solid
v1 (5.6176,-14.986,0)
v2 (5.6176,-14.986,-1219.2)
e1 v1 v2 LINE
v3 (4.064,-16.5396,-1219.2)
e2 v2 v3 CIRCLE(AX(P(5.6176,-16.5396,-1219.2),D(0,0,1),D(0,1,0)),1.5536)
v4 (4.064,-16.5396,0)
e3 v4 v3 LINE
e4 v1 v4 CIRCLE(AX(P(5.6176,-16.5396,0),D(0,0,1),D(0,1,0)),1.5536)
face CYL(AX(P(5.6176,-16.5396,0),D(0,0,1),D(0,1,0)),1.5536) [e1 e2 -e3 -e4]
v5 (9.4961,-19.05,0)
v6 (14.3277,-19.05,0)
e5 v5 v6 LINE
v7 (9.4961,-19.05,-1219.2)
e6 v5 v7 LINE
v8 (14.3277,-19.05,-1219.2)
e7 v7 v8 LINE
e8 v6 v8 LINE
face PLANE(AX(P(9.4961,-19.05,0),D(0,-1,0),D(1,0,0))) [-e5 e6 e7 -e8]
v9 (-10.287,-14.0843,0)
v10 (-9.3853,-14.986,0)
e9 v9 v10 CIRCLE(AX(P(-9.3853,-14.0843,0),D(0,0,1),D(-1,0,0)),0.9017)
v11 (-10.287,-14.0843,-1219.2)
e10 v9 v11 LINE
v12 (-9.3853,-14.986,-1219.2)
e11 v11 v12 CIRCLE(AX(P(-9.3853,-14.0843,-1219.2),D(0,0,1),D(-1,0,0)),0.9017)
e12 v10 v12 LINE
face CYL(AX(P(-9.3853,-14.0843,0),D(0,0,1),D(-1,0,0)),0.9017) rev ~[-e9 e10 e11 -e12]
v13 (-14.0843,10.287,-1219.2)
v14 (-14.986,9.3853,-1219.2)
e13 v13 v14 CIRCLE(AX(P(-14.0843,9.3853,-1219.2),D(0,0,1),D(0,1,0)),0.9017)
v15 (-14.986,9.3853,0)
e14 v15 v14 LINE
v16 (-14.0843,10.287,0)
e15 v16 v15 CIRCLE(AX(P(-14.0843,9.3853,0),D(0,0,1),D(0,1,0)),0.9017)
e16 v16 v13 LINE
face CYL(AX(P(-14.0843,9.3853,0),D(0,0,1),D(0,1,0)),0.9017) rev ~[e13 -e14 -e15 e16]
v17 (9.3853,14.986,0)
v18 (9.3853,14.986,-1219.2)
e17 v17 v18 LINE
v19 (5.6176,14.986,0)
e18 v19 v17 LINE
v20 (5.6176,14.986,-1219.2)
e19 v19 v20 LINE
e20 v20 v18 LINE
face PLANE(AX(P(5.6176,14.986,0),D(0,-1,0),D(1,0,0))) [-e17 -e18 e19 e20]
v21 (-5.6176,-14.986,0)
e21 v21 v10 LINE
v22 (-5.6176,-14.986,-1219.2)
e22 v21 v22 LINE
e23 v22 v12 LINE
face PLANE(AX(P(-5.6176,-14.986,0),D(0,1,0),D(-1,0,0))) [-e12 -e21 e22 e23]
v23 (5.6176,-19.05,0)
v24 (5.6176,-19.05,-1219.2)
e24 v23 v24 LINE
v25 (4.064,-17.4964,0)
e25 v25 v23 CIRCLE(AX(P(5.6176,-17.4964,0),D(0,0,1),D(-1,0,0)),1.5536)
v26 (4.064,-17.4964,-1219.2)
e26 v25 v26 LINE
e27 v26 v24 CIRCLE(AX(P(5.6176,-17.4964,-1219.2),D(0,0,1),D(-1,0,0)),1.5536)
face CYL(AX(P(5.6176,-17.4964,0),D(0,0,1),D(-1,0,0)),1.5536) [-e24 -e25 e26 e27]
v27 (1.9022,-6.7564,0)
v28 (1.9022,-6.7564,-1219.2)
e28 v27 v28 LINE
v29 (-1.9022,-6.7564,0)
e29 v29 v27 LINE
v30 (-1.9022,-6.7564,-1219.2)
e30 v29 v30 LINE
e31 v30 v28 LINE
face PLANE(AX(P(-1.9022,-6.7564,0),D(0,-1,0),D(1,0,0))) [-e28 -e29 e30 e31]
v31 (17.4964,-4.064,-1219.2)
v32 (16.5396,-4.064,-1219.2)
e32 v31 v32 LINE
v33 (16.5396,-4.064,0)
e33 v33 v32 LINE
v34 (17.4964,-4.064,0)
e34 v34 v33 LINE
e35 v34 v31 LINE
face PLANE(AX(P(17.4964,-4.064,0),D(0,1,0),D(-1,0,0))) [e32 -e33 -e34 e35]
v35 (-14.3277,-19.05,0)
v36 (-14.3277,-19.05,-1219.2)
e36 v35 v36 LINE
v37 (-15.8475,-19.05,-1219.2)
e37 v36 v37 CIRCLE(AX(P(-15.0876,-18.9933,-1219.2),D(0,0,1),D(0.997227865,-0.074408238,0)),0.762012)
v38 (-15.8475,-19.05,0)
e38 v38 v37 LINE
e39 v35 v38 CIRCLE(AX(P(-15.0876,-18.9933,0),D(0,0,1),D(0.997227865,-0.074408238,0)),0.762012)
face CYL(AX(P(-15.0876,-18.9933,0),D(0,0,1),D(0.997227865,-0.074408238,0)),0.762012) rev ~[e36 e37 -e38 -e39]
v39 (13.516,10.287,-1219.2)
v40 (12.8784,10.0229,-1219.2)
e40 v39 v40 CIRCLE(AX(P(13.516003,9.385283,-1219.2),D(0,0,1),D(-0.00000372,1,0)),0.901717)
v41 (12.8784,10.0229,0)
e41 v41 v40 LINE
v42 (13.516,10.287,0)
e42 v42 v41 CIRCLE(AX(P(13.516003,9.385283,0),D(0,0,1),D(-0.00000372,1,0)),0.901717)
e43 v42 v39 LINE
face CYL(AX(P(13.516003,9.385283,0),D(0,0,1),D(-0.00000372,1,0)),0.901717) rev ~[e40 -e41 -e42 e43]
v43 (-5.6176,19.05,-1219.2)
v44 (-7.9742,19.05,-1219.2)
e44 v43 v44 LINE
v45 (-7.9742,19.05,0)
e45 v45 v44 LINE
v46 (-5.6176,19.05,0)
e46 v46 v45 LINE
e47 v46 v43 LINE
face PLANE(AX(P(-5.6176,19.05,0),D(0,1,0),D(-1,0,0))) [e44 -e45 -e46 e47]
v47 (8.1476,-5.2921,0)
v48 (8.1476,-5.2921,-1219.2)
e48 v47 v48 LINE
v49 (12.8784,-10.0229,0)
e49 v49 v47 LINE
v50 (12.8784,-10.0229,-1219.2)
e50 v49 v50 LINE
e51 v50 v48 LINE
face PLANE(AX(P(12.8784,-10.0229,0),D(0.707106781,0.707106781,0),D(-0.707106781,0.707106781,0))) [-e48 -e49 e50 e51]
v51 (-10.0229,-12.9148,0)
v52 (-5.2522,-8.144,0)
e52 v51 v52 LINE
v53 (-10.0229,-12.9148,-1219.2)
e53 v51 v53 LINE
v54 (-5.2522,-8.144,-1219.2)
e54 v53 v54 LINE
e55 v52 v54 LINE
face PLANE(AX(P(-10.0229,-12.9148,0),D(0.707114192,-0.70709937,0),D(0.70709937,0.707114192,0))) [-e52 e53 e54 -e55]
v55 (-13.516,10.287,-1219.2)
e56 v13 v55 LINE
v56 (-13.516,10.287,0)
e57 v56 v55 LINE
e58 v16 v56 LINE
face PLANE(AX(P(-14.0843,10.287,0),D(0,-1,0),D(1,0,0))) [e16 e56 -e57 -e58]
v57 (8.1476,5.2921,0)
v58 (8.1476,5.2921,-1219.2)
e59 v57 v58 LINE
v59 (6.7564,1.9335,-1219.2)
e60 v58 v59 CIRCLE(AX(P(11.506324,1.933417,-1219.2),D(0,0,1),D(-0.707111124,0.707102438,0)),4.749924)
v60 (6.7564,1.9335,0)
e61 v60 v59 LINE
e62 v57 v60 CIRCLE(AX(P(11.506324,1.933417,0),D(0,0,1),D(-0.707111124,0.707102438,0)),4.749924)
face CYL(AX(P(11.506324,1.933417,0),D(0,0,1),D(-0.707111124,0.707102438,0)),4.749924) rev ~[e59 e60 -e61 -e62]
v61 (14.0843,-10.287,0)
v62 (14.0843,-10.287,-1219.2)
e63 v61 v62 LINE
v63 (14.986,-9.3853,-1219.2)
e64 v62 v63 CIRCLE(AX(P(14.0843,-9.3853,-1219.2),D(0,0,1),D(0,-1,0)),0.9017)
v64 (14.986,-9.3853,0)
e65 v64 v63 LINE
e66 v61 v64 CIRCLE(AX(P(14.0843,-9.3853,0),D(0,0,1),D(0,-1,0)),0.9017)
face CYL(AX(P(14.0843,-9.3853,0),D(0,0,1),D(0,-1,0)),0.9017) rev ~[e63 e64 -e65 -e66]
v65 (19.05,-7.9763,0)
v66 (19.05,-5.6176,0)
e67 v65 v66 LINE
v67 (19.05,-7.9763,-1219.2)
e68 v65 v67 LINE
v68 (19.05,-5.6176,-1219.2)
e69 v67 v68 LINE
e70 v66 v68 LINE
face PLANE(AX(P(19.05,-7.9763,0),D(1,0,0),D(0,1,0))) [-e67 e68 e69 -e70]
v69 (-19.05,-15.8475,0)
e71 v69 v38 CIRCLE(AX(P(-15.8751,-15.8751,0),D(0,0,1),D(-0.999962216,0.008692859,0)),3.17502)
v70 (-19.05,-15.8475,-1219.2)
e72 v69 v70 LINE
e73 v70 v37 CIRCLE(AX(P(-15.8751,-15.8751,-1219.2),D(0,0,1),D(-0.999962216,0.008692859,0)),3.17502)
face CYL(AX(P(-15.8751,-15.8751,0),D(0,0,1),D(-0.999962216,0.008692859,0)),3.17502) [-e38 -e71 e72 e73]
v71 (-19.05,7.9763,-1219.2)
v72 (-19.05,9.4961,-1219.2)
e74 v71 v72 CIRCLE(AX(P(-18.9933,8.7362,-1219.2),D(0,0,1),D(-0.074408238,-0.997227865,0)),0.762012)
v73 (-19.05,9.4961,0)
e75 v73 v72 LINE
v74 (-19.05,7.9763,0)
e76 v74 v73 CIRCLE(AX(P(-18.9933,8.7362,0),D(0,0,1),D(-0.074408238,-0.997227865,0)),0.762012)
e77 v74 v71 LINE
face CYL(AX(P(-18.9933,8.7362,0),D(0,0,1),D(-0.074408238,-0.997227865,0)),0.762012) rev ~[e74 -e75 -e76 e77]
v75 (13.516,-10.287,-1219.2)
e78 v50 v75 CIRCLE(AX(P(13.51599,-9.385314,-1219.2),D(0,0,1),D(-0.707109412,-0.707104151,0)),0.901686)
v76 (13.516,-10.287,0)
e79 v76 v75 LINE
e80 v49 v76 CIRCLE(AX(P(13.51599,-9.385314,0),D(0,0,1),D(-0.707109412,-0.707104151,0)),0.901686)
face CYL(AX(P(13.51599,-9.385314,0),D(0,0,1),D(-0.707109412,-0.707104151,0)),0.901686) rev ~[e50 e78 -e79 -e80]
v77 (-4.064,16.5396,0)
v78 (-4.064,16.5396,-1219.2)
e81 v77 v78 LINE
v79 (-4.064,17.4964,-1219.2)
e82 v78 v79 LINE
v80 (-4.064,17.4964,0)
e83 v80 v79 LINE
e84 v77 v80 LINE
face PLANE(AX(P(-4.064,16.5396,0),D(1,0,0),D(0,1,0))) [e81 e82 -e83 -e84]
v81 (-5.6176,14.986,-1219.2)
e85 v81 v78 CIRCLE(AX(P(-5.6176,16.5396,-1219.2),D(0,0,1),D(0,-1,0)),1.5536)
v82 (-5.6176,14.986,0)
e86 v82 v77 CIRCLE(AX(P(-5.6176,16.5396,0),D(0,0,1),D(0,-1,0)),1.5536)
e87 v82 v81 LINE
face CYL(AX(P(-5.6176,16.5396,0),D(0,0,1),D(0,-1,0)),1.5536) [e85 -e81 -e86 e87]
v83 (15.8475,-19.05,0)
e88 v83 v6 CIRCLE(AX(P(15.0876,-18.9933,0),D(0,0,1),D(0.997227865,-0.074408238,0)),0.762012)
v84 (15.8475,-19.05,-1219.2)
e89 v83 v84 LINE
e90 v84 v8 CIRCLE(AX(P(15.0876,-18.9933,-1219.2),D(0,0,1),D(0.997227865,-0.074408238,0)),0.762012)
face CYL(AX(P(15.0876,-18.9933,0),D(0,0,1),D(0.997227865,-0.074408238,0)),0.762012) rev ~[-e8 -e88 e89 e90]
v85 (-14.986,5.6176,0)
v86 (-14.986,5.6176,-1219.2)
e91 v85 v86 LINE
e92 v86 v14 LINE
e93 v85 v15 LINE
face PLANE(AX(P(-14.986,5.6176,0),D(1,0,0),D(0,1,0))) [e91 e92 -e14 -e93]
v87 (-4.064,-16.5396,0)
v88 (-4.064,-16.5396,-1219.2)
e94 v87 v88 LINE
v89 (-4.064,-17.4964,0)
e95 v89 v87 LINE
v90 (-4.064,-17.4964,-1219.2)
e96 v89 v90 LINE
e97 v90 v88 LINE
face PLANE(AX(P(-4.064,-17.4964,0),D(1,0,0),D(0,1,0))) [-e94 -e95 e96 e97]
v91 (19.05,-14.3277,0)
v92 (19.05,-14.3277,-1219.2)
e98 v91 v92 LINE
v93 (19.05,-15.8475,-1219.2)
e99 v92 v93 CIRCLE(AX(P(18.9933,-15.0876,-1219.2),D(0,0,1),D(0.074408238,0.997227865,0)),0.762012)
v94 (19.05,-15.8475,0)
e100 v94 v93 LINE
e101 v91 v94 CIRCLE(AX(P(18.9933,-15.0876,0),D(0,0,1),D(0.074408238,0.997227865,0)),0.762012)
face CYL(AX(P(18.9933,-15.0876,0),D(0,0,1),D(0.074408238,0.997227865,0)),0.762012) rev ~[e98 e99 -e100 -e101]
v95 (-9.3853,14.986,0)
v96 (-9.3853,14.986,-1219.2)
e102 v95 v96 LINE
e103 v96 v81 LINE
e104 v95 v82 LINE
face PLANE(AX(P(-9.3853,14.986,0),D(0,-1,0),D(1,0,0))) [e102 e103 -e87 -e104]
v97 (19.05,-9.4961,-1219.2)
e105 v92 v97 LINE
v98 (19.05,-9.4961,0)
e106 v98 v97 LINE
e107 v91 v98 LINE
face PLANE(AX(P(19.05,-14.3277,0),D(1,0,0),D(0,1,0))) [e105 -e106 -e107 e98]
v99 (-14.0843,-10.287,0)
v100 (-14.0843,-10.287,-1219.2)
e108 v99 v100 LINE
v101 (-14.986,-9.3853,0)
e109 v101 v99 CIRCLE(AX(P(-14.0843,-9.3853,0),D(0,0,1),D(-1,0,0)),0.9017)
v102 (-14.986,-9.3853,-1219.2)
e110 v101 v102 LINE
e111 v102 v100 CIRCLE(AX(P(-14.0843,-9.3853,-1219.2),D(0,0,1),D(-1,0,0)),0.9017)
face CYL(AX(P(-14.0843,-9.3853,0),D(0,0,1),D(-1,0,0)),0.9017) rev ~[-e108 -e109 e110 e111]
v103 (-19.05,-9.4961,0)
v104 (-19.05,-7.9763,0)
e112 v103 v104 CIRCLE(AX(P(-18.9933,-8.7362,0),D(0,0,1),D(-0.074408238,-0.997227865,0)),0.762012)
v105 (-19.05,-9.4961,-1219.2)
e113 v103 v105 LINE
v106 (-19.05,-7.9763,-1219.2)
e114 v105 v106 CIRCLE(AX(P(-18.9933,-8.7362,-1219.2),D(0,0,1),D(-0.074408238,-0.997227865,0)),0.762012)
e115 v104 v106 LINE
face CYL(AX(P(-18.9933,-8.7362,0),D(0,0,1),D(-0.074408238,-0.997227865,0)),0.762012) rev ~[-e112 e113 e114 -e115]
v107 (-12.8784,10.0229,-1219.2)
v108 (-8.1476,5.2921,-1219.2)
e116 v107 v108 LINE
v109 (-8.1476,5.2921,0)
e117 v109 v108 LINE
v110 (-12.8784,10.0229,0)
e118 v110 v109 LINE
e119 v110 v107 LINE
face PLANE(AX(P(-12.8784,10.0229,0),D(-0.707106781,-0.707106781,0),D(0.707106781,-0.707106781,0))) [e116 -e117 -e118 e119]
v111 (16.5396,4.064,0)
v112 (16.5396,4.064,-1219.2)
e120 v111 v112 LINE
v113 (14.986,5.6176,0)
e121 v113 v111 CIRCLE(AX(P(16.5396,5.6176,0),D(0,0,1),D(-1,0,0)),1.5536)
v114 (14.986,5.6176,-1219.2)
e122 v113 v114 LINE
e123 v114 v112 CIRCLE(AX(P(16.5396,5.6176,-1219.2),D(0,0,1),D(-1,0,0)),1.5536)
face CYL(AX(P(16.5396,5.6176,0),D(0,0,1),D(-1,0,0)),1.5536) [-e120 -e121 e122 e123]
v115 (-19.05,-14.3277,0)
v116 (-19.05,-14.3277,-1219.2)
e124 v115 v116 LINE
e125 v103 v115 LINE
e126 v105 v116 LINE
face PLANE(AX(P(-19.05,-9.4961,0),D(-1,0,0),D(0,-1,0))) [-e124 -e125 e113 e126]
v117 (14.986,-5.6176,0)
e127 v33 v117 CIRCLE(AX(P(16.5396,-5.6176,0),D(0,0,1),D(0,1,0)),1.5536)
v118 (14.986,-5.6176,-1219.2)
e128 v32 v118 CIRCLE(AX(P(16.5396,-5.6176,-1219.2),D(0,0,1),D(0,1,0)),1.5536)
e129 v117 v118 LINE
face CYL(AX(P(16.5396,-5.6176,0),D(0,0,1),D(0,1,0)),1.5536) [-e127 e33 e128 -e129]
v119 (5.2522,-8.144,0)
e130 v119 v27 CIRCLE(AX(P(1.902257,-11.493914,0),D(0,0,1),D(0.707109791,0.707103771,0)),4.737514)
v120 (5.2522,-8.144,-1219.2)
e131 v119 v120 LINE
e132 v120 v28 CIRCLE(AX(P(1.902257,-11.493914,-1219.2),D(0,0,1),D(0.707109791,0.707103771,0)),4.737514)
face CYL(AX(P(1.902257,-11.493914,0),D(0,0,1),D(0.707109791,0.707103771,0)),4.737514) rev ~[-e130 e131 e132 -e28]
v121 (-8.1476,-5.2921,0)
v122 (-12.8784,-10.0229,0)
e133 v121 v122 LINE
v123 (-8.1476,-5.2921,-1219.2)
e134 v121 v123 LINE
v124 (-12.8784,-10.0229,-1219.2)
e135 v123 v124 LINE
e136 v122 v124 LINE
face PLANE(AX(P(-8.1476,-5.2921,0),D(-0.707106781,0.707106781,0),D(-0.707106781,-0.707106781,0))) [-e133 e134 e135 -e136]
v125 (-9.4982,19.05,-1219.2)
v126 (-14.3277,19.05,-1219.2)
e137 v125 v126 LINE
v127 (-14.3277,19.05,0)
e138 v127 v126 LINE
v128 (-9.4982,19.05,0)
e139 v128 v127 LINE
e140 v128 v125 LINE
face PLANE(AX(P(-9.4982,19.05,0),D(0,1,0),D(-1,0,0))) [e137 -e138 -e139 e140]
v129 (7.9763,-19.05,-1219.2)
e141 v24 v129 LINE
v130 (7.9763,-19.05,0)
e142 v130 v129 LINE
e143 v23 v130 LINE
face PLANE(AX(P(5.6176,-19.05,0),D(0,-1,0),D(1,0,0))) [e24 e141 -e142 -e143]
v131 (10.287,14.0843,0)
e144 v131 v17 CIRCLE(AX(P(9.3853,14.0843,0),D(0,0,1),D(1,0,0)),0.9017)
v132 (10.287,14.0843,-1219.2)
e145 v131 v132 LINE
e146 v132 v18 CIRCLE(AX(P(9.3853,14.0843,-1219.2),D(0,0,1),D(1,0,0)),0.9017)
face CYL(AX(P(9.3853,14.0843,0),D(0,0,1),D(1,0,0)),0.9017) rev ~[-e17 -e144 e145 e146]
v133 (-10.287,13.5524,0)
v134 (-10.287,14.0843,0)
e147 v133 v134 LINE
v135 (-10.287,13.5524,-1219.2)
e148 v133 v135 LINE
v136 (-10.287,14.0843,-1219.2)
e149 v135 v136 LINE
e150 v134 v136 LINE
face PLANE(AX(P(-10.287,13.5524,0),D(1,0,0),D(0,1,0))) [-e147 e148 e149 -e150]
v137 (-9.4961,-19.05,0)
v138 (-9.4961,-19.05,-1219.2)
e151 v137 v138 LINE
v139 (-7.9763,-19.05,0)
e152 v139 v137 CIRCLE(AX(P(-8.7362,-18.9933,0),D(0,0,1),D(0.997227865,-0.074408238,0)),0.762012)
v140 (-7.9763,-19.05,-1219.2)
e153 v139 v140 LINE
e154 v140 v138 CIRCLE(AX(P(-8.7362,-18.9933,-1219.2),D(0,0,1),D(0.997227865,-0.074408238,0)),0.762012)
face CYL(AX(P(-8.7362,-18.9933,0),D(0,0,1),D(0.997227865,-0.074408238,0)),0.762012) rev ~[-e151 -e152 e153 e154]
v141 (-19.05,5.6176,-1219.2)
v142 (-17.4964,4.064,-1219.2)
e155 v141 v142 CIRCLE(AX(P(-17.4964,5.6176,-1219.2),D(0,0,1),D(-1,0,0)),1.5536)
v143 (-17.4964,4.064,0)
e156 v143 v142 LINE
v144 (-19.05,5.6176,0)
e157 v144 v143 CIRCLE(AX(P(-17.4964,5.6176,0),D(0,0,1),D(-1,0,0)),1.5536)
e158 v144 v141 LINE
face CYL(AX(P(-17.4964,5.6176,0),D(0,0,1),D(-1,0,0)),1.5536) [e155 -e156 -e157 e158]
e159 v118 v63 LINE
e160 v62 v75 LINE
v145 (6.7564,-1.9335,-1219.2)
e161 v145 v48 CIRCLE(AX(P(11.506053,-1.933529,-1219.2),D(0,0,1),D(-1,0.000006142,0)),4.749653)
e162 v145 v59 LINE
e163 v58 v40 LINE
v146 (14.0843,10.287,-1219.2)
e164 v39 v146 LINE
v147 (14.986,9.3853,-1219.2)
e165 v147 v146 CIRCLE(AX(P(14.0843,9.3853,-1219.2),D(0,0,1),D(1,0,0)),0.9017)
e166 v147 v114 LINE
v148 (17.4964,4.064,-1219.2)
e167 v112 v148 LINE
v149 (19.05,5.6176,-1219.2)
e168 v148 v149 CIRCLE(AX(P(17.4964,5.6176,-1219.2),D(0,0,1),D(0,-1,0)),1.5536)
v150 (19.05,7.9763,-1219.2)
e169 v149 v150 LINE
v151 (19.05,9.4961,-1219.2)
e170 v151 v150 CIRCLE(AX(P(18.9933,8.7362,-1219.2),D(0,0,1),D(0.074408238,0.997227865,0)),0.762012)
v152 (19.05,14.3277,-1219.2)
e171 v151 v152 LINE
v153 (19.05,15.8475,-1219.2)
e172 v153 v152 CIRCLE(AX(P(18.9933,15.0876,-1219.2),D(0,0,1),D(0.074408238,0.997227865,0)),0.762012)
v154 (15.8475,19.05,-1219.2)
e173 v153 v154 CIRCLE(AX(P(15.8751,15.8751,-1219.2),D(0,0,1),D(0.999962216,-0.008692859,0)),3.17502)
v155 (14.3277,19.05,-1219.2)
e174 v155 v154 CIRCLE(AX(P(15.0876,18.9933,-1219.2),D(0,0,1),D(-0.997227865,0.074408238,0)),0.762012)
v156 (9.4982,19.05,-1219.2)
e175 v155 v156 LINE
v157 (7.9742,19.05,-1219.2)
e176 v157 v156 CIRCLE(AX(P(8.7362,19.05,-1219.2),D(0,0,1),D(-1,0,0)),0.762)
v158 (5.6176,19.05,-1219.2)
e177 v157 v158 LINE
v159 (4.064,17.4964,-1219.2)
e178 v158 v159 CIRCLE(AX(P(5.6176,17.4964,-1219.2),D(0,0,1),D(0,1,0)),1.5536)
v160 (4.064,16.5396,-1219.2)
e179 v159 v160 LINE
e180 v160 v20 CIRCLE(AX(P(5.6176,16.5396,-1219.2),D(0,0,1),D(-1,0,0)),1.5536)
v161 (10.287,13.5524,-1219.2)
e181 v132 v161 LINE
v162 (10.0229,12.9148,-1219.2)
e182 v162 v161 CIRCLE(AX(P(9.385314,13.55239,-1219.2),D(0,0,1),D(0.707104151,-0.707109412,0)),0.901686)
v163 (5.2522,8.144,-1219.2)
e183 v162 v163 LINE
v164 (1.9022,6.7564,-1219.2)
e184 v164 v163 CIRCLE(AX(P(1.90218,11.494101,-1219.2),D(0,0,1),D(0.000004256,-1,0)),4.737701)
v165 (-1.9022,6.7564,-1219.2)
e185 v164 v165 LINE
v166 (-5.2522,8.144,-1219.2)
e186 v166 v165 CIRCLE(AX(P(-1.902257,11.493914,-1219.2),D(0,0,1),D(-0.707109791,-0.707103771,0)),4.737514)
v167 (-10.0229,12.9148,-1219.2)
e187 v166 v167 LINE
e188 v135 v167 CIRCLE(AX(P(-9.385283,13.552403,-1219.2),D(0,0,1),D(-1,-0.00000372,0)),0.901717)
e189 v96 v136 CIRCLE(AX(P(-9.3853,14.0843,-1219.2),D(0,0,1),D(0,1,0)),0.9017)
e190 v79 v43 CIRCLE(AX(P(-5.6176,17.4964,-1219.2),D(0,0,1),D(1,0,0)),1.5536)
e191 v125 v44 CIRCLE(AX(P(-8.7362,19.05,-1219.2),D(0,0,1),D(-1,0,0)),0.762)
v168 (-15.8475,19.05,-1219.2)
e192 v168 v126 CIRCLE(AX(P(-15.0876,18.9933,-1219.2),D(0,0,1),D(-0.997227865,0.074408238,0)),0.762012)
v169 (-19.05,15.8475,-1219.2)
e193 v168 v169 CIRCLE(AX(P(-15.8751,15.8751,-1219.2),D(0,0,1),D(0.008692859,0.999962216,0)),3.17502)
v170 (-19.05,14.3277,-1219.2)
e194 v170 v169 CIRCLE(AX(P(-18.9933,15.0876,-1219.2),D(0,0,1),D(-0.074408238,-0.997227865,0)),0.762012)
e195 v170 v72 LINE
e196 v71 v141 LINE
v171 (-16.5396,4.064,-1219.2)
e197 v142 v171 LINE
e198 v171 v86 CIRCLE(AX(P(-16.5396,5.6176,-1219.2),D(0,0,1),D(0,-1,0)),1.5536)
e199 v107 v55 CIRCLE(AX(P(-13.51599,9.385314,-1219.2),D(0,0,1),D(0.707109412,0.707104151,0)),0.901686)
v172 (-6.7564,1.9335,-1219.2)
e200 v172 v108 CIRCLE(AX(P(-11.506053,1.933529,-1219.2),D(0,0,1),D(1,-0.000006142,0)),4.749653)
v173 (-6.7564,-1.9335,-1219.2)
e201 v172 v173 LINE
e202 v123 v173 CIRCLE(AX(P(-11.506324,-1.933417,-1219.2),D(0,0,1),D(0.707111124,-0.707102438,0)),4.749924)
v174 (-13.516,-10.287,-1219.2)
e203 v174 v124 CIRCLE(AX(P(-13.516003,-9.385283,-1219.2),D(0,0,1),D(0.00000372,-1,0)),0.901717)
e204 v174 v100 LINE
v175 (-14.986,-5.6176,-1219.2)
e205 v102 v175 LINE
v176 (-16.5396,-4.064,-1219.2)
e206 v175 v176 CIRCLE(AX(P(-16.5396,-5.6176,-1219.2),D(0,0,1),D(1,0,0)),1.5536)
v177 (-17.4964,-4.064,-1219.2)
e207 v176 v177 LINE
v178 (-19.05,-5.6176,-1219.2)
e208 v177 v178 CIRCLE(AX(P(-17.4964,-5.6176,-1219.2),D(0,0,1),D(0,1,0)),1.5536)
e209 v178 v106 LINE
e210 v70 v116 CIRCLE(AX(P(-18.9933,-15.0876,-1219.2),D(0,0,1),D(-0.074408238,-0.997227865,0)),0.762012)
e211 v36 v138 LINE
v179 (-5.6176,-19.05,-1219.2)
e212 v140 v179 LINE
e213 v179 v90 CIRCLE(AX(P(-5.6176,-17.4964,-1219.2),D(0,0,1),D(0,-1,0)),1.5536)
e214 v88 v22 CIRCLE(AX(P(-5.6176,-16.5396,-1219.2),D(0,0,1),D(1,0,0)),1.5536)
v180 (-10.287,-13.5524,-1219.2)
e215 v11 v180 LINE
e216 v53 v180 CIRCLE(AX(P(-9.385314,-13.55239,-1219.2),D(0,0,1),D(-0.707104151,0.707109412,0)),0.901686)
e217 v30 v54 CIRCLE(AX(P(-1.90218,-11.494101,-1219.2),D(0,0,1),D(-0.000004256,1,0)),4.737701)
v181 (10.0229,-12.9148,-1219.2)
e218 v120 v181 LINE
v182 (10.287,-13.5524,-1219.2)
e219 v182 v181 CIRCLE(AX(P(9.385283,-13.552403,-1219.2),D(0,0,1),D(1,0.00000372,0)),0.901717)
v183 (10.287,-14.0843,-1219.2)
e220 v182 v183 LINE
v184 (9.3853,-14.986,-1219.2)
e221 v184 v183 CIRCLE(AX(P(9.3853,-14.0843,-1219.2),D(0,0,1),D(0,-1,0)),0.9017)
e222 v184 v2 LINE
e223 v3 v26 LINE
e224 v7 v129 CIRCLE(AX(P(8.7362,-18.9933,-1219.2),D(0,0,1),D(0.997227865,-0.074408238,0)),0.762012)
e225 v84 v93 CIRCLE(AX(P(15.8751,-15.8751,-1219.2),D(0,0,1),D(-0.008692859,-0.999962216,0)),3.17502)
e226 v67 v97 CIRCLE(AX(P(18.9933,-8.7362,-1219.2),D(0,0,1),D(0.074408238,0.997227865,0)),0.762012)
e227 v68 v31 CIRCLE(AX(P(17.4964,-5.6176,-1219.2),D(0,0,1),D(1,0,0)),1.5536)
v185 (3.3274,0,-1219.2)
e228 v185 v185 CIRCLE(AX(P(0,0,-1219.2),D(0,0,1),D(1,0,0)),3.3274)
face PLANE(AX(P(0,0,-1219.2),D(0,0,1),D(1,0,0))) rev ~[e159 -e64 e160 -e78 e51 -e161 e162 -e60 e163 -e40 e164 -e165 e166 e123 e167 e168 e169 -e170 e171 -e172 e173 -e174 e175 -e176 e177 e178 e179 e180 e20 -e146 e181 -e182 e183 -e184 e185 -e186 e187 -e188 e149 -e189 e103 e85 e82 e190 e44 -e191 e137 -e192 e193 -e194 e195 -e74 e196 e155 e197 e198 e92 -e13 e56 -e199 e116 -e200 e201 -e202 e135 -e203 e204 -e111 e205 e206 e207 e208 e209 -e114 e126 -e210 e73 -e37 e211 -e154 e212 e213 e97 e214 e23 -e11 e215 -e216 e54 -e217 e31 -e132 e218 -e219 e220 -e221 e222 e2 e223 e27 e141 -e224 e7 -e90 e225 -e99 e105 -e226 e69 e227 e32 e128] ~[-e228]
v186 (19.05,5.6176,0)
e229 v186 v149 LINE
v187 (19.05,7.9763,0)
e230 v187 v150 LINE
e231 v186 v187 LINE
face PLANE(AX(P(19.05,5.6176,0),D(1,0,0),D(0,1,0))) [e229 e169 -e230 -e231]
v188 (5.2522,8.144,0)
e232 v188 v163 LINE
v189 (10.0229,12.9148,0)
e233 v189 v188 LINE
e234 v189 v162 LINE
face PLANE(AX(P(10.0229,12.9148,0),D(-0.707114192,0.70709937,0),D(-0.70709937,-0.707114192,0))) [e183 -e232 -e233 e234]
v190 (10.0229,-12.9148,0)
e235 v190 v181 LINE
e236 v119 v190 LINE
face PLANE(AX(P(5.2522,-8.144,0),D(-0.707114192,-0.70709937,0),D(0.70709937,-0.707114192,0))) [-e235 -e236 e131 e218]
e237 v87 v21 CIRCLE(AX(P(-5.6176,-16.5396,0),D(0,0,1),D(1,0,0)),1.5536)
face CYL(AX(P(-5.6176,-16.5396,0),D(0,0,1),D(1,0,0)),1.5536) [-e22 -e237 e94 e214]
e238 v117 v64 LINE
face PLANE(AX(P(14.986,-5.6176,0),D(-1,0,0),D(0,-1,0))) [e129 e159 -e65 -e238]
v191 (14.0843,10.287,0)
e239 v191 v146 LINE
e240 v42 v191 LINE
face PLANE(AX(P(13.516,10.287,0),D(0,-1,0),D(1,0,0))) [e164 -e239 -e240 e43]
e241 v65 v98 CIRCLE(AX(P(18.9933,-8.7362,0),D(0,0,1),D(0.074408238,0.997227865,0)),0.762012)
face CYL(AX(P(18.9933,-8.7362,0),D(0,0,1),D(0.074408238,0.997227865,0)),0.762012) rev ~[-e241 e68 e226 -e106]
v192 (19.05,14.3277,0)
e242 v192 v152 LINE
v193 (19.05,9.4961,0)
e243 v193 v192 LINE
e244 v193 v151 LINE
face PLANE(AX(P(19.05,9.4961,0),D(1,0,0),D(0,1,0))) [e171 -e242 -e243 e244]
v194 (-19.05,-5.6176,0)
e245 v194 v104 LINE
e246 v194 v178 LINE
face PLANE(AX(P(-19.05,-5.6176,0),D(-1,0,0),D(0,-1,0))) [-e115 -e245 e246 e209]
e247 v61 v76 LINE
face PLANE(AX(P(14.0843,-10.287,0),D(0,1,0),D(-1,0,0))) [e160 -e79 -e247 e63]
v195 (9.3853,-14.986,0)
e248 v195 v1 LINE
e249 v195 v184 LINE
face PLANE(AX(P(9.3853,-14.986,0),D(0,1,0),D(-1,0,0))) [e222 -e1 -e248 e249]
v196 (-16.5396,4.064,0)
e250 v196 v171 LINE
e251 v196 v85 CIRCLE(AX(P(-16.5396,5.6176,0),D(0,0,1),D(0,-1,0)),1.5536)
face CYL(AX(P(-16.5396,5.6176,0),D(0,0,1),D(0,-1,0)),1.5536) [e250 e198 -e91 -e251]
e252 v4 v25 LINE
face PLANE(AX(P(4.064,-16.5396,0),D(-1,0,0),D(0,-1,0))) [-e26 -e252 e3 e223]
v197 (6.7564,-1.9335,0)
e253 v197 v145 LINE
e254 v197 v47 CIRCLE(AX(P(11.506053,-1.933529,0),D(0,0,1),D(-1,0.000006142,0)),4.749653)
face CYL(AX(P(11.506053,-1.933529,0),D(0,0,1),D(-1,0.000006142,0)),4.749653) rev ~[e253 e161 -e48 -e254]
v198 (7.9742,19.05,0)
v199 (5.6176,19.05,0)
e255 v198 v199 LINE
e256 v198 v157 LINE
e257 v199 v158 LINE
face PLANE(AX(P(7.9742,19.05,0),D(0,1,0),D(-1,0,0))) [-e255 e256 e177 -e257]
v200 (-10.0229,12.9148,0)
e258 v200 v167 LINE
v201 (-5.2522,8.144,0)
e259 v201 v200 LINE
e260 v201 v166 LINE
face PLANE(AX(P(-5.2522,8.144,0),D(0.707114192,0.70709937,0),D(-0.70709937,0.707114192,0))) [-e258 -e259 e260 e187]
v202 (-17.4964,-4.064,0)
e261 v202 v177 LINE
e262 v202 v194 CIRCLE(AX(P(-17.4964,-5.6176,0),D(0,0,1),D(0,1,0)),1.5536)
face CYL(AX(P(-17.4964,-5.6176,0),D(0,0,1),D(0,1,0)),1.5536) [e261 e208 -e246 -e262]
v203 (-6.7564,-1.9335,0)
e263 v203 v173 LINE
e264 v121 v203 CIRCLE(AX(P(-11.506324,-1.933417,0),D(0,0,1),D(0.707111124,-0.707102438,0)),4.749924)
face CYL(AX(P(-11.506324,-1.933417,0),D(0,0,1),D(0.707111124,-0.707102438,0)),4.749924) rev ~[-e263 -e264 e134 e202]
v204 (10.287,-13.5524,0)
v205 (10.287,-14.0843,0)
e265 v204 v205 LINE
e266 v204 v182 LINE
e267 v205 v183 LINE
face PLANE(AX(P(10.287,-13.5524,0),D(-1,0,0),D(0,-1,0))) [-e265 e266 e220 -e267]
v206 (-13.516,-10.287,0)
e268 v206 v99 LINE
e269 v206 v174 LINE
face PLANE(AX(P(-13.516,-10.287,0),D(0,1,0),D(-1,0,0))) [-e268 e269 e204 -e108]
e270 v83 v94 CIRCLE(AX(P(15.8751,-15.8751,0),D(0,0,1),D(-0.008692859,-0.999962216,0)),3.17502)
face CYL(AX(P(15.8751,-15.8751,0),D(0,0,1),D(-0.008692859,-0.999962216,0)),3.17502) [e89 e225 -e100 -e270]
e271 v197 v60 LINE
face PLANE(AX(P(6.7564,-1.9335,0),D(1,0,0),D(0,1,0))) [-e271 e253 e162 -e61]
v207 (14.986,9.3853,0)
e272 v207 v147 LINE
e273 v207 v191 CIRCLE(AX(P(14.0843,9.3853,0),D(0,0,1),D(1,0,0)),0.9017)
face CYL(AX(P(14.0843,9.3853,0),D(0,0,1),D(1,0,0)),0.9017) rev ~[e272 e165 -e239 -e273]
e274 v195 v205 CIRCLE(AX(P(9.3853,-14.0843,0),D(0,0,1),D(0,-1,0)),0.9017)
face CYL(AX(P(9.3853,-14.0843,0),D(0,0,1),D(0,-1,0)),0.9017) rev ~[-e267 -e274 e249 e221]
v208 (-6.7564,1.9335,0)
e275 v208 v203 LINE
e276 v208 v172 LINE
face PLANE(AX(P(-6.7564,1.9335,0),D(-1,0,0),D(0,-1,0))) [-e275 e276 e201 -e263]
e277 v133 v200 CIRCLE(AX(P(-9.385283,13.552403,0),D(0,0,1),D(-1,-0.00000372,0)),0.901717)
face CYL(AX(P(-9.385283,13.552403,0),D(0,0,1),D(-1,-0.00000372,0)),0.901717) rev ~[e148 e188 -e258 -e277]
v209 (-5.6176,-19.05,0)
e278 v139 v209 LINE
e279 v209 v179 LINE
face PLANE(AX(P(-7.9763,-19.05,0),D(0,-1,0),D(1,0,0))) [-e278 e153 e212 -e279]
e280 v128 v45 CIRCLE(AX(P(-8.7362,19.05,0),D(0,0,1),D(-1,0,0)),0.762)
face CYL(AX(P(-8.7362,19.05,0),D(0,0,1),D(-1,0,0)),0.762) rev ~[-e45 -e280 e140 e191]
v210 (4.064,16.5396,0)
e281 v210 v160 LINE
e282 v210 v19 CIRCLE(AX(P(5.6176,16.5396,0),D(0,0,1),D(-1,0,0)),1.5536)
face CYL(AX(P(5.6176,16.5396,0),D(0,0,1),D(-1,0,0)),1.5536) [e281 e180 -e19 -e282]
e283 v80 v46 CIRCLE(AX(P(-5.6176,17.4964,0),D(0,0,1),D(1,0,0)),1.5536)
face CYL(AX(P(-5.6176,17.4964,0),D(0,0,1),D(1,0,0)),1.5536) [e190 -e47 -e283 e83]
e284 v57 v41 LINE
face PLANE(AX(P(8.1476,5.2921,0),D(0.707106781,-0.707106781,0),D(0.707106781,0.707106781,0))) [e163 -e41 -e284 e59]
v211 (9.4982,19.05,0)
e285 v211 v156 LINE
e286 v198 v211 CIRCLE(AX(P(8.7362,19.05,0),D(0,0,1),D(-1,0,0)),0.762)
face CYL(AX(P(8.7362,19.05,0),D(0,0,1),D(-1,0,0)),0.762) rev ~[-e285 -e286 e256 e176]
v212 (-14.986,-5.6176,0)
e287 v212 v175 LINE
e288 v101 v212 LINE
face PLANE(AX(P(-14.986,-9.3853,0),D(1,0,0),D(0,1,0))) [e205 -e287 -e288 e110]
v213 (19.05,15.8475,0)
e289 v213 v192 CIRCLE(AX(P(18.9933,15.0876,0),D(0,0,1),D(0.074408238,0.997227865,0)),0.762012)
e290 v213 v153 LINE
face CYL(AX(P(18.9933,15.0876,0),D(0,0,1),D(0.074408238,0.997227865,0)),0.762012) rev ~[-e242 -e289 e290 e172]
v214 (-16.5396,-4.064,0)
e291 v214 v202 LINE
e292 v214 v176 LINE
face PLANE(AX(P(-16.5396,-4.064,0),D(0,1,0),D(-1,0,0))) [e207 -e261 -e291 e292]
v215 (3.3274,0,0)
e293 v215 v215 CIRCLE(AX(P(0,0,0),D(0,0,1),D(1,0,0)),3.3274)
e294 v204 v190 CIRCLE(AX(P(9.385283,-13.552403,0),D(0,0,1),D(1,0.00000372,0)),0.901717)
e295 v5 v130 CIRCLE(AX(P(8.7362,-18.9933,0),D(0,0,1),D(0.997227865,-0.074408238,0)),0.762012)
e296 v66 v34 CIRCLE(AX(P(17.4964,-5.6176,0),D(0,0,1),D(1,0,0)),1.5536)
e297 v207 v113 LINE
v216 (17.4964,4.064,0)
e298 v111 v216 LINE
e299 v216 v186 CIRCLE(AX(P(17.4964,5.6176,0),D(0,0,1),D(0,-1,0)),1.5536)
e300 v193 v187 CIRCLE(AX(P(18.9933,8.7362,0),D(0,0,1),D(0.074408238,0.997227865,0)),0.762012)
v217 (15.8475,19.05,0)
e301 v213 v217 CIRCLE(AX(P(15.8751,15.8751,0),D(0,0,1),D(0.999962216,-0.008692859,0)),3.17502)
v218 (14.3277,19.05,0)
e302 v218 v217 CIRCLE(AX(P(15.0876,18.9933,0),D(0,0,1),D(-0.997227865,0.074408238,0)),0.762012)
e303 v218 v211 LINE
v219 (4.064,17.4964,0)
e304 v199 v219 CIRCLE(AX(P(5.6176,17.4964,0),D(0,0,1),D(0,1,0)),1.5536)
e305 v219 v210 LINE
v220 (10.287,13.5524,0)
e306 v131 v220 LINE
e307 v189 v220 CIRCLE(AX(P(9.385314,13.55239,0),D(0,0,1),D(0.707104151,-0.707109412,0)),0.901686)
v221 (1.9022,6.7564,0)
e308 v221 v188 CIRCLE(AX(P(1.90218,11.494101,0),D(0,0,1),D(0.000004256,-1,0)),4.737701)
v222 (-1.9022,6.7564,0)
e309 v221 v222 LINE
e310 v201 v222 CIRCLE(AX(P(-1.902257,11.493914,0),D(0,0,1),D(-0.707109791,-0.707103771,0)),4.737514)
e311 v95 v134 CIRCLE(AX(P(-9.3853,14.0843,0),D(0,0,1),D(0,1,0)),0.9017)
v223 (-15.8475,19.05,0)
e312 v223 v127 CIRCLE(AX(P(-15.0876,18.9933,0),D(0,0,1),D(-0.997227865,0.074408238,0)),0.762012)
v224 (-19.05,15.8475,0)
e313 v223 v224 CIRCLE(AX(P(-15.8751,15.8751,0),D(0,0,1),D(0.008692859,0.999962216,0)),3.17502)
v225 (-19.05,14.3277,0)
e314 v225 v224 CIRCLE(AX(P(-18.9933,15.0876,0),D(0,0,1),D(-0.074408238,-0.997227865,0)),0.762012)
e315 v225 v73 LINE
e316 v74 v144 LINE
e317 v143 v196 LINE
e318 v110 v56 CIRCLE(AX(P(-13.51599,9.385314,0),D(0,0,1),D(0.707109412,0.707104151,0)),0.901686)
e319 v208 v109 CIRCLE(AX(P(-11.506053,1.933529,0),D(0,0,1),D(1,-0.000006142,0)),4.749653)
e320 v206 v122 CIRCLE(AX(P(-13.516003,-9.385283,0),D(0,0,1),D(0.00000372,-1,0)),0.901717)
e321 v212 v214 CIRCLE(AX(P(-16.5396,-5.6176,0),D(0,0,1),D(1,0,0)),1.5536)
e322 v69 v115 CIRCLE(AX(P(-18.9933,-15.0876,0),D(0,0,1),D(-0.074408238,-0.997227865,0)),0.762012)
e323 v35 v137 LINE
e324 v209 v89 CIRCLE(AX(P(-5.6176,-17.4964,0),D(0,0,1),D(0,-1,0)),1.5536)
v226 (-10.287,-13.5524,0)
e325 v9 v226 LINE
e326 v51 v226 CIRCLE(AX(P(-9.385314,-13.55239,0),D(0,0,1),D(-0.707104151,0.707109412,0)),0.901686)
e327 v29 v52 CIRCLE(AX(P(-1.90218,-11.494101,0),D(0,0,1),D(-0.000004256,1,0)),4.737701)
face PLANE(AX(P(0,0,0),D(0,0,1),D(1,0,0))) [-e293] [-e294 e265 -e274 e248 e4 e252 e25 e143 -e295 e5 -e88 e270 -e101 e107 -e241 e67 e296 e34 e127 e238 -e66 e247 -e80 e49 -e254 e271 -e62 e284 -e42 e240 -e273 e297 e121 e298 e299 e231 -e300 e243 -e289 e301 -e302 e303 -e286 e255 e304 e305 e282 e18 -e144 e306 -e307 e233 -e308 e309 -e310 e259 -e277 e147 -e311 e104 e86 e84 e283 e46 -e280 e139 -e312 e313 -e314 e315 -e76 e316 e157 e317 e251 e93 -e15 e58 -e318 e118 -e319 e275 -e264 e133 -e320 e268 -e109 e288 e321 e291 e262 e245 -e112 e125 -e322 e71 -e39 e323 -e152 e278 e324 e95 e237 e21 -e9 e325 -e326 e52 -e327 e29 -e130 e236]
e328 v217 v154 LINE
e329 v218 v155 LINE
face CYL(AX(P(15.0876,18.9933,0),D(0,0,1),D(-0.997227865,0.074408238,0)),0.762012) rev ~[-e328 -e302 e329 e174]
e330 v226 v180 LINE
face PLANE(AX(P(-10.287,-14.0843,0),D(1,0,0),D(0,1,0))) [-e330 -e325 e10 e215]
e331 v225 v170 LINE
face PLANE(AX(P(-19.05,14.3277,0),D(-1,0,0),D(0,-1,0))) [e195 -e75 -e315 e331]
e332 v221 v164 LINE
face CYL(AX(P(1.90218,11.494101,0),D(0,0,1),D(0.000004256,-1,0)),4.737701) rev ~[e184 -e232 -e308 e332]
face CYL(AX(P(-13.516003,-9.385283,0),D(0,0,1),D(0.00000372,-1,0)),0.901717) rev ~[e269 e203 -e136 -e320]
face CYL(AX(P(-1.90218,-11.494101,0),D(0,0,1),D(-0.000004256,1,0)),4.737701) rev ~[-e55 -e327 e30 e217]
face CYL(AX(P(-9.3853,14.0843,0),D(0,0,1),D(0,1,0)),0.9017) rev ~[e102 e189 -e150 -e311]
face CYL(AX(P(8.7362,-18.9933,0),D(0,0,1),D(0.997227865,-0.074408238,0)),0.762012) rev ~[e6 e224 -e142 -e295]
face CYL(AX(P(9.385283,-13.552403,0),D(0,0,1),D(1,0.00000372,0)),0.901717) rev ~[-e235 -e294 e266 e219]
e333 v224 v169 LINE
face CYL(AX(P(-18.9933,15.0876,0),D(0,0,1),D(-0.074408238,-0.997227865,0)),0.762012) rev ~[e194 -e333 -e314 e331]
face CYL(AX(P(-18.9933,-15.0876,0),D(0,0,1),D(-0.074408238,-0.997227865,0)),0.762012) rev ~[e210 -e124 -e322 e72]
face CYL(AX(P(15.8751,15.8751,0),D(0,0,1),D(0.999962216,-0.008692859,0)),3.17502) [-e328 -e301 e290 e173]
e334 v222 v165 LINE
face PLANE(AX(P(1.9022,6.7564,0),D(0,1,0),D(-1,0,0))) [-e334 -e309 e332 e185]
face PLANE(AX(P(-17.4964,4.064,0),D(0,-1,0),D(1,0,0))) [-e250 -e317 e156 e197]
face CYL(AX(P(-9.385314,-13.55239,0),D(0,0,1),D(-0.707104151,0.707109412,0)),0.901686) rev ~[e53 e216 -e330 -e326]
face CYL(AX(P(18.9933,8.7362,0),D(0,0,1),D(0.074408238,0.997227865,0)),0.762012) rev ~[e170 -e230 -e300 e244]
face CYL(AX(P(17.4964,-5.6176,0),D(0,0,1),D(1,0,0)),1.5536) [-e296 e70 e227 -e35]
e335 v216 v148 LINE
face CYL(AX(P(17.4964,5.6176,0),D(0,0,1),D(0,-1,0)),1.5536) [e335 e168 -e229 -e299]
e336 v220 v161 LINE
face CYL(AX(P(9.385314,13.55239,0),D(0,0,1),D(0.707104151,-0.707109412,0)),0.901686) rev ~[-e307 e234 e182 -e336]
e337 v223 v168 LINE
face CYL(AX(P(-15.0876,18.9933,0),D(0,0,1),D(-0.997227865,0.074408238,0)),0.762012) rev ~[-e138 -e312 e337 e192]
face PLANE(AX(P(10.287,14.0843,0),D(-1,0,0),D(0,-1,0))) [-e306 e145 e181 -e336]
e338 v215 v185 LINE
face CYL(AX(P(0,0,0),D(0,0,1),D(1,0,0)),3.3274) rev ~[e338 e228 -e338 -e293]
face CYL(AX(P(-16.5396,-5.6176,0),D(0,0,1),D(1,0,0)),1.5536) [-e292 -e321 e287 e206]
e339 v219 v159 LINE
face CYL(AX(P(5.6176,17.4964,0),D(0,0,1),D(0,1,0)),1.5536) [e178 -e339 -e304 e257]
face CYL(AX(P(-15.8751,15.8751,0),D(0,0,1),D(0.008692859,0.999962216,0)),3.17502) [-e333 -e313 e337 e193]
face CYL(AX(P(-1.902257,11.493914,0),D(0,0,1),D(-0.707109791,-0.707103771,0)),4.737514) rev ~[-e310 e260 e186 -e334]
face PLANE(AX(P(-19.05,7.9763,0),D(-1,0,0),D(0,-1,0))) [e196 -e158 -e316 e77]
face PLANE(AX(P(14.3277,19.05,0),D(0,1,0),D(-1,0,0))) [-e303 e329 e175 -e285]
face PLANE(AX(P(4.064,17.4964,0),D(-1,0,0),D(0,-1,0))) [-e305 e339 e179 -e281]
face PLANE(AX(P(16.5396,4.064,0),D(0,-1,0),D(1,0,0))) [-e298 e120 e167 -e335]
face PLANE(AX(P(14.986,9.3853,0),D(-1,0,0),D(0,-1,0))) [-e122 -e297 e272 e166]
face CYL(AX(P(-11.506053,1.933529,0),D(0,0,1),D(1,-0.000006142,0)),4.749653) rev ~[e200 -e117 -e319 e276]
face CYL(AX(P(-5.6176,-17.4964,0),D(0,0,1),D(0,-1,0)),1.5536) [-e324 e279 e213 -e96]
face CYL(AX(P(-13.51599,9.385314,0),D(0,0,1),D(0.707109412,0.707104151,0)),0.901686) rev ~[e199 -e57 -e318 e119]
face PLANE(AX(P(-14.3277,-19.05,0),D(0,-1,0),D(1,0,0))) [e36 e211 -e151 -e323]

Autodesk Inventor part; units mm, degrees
sketch "Sketch_1" plane through (0, 0, 0) normal (0, 0, 1) x (1, 0, 0)
  arc A0 (-15.8475, 19.05) -> (-19.05, 15.8475) centre (-15.8751, 15.8751) ccw
  arc A1 (-19.05, 14.3277) -> (-19.05, 15.8475) centre (-18.9933, 15.0876) ccw
  line L0 (-19.05, 14.3277) -> (-19.05, 9.4961)
  arc A2 (-19.05, 7.9763) -> (-19.05, 9.4961) centre (-18.9933, 8.7362) ccw
  line L1 (-19.05, 7.9763) -> (-19.05, 5.6176)
  arc A3 (-19.05, 5.6176) -> (-17.4964, 4.064) centre (-17.4964, 5.6176) ccw
  line L2 (-17.4964, 4.064) -> (-16.5396, 4.064)
  arc A4 (-16.5396, 4.064) -> (-14.986, 5.6176) centre (-16.5396, 5.6176) ccw
  line L3 (-14.986, 5.6176) -> (-14.986, 9.3853)
  arc A5 (-14.0843, 10.287) -> (-14.986, 9.3853) centre (-14.0843, 9.3853) ccw
  line L4 (-14.0843, 10.287) -> (-13.516, 10.287)
  arc A6 (-12.8784, 10.0229) -> (-13.516, 10.287) centre (-13.516, 9.3853) ccw
  line L5 (-12.8784, 10.0229) -> (-8.1476, 5.2921)
  arc A7 (-6.7564, 1.9335) -> (-8.1476, 5.2921) centre (-11.5062, 1.9335) ccw
  line L6 (-6.7564, 1.9335) -> (-6.7564, -1.9335)
  arc A8 (-8.1476, -5.2921) -> (-6.7564, -1.9335) centre (-11.5062, -1.9335) ccw
  line L7 (-8.1476, -5.2921) -> (-12.8784, -10.0229)
  arc A9 (-13.516, -10.287) -> (-12.8784, -10.0229) centre (-13.516, -9.3853) ccw
  line L8 (-13.516, -10.287) -> (-14.0843, -10.287)
  arc A10 (-14.986, -9.3853) -> (-14.0843, -10.287) centre (-14.0843, -9.3853) ccw
  line L9 (-14.986, -9.3853) -> (-14.986, -5.6176)
  arc A11 (-14.986, -5.6176) -> (-16.5396, -4.064) centre (-16.5396, -5.6176) ccw
  line L10 (-16.5396, -4.064) -> (-17.4964, -4.064)
  arc A12 (-17.4964, -4.064) -> (-19.05, -5.6176) centre (-17.4964, -5.6176) ccw
  line L11 (-19.05, -5.6176) -> (-19.05, -7.9763)
  arc A13 (-19.05, -9.4961) -> (-19.05, -7.9763) centre (-18.9933, -8.7362) ccw
  line L12 (-19.05, -9.4961) -> (-19.05, -14.3277)
  arc A14 (-19.05, -15.8475) -> (-19.05, -14.3277) centre (-18.9933, -15.0876) ccw
  arc A15 (-19.05, -15.8475) -> (-15.8475, -19.05) centre (-15.8751, -15.8751) ccw
  arc A16 (-14.3277, -19.05) -> (-15.8475, -19.05) centre (-15.0876, -18.9933) ccw
  line L13 (-14.3277, -19.05) -> (-9.4961, -19.05)
  arc A17 (-7.9763, -19.05) -> (-9.4961, -19.05) centre (-8.7362, -18.9933) ccw
  line L14 (-7.9763, -19.05) -> (-5.6176, -19.05)
  arc A18 (-5.6176, -19.05) -> (-4.064, -17.4964) centre (-5.6176, -17.4964) ccw
  line L15 (-4.064, -17.4964) -> (-4.064, -16.5396)
  arc A19 (-4.064, -16.5396) -> (-5.6176, -14.986) centre (-5.6176, -16.5396) ccw
  line L16 (-5.6176, -14.986) -> (-9.3853, -14.986)
  arc A20 (-10.287, -14.0843) -> (-9.3853, -14.986) centre (-9.3853, -14.0843) ccw
  line L17 (-10.287, -14.0843) -> (-10.287, -13.5524)
  arc A21 (-10.0229, -12.9148) -> (-10.287, -13.5524) centre (-9.3853, -13.5524) ccw
  line L18 (-10.0229, -12.9148) -> (-5.2522, -8.144)
  arc A22 (-1.9022, -6.7564) -> (-5.2522, -8.144) centre (-1.9022, -11.494) ccw
  line L19 (-1.9022, -6.7564) -> (1.9022, -6.7564)
  arc A23 (5.2522, -8.144) -> (1.9022, -6.7564) centre (1.9022, -11.494) ccw
  line L20 (5.2522, -8.144) -> (10.0229, -12.9148)
  arc A24 (10.287, -13.5524) -> (10.0229, -12.9148) centre (9.3853, -13.5524) ccw
  line L21 (10.287, -13.5524) -> (10.287, -14.0843)
  arc A25 (9.3853, -14.986) -> (10.287, -14.0843) centre (9.3853, -14.0843) ccw
  line L22 (9.3853, -14.986) -> (5.6176, -14.986)
  arc A26 (5.6176, -14.986) -> (4.064, -16.5396) centre (5.6176, -16.5396) ccw
  line L23 (4.064, -16.5396) -> (4.064, -17.4964)
  arc A27 (4.064, -17.4964) -> (5.6176, -19.05) centre (5.6176, -17.4964) ccw
  line L24 (5.6176, -19.05) -> (7.9763, -19.05)
  arc A28 (9.4961, -19.05) -> (7.9763, -19.05) centre (8.7362, -18.9933) ccw
  line L25 (9.4961, -19.05) -> (14.3277, -19.05)
  arc A29 (15.8475, -19.05) -> (14.3277, -19.05) centre (15.0876, -18.9933) ccw
  arc A30 (15.8475, -19.05) -> (19.05, -15.8475) centre (15.8751, -15.8751) ccw
  arc A31 (19.05, -14.3277) -> (19.05, -15.8475) centre (18.9933, -15.0876) ccw
  line L26 (19.05, -14.3277) -> (19.05, -9.4961)
  arc A32 (19.05, -7.9763) -> (19.05, -9.4961) centre (18.9933, -8.7362) ccw
  line L27 (19.05, -7.9763) -> (19.05, -5.6176)
  arc A33 (19.05, -5.6176) -> (17.4964, -4.064) centre (17.4964, -5.6176) ccw
  line L28 (17.4964, -4.064) -> (16.5396, -4.064)
  arc A34 (16.5396, -4.064) -> (14.986, -5.6176) centre (16.5396, -5.6176) ccw
  line L29 (14.986, -5.6176) -> (14.986, -9.3853)
  arc A35 (14.0843, -10.287) -> (14.986, -9.3853) centre (14.0843, -9.3853) ccw
  line L30 (14.0843, -10.287) -> (13.516, -10.287)
  arc A36 (12.8784, -10.0229) -> (13.516, -10.287) centre (13.516, -9.3853) ccw
  line L31 (12.8784, -10.0229) -> (8.1476, -5.2921)
  arc A37 (6.7564, -1.9335) -> (8.1476, -5.2921) centre (11.5062, -1.9335) ccw
  line L32 (6.7564, -1.9335) -> (6.7564, 1.9335)
  arc A38 (8.1476, 5.2921) -> (6.7564, 1.9335) centre (11.5062, 1.9335) ccw
  line L33 (8.1476, 5.2921) -> (12.8784, 10.0229)
  arc A39 (13.516, 10.287) -> (12.8784, 10.0229) centre (13.516, 9.3853) ccw
  line L34 (13.516, 10.287) -> (14.0843, 10.287)
  arc A40 (14.986, 9.3853) -> (14.0843, 10.287) centre (14.0843, 9.3853) ccw
  line L35 (14.986, 9.3853) -> (14.986, 5.6176)
  arc A41 (14.986, 5.6176) -> (16.5396, 4.064) centre (16.5396, 5.6176) ccw
  line L36 (16.5396, 4.064) -> (17.4964, 4.064)
  arc A42 (17.4964, 4.064) -> (19.05, 5.6176) centre (17.4964, 5.6176) ccw
  line L37 (19.05, 5.6176) -> (19.05, 7.9763)
  arc A43 (19.05, 9.4961) -> (19.05, 7.9763) centre (18.9933, 8.7362) ccw
  line L38 (19.05, 9.4961) -> (19.05, 14.3277)
  arc A44 (19.05, 15.8475) -> (19.05, 14.3277) centre (18.9933, 15.0876) ccw
  arc A45 (19.05, 15.8475) -> (15.8475, 19.05) centre (15.8751, 15.8751) ccw
  arc A46 (14.3277, 19.05) -> (15.8475, 19.05) centre (15.0876, 18.9933) ccw
  line L39 (14.3277, 19.05) -> (9.4982, 19.05)
  arc A47 (7.9742, 19.05) -> (9.4982, 19.05) centre (8.7362, 19.05) ccw
  line L40 (7.9742, 19.05) -> (5.6176, 19.05)
  arc A48 (5.6176, 19.05) -> (4.064, 17.4964) centre (5.6176, 17.4964) ccw
  line L41 (4.064, 17.4964) -> (4.064, 16.5396)
  arc A49 (4.064, 16.5396) -> (5.6176, 14.986) centre (5.6176, 16.5396) ccw
  line L42 (5.6176, 14.986) -> (9.3853, 14.986)
  arc A50 (10.287, 14.0843) -> (9.3853, 14.986) centre (9.3853, 14.0843) ccw
  line L43 (10.287, 14.0843) -> (10.287, 13.5524)
  arc A51 (10.0229, 12.9148) -> (10.287, 13.5524) centre (9.3853, 13.5524) ccw
  line L44 (10.0229, 12.9148) -> (5.2522, 8.144)
  arc A52 (1.9022, 6.7564) -> (5.2522, 8.144) centre (1.9022, 11.494) ccw
  line L45 (1.9022, 6.7564) -> (-1.9022, 6.7564)
  arc A53 (-5.2522, 8.144) -> (-1.9022, 6.7564) centre (-1.9022, 11.494) ccw
  line L46 (-5.2522, 8.144) -> (-10.0229, 12.9148)
  arc A54 (-10.287, 13.5524) -> (-10.0229, 12.9148) centre (-9.3853, 13.5524) ccw
  line L47 (-10.287, 13.5524) -> (-10.287, 14.0843)
  arc A55 (-9.3853, 14.986) -> (-10.287, 14.0843) centre (-9.3853, 14.0843) ccw
  line L48 (-9.3853, 14.986) -> (-5.6176, 14.986)
  arc A56 (-5.6176, 14.986) -> (-4.064, 16.5396) centre (-5.6176, 16.5396) ccw
  line L49 (-4.064, 16.5396) -> (-4.064, 17.4964)
  arc A57 (-4.064, 17.4964) -> (-5.6176, 19.05) centre (-5.6176, 17.4964) ccw
  line L50 (-5.6176, 19.05) -> (-7.9742, 19.05)
  arc A58 (-9.4982, 19.05) -> (-7.9742, 19.05) centre (-8.7362, 19.05) ccw
  line L51 (-9.4982, 19.05) -> (-14.3277, 19.05)
  arc A59 (-15.8475, 19.05) -> (-14.3277, 19.05) centre (-15.0876, 18.9933) ccw
  circle A60 centre (0, 0) radius 3.3274
extrude "Extrusion1" add sketch "Sketch_1" against normal blind 1219.2
ref_plane "b1_XY" through (-19.05, 0, -1231.9) normal (1, 0, 0) x (0, 0, -1)
ref_plane "b1_YZ" through (-19.05, 0, -1231.9) normal (0, 0, -1) x (0, 1, 0)
ref_plane "b1_ZX" through (-19.05, 0, -1231.9) normal (0, 1, 0) x (1, 0, 0)
ref_plane "b2_XY" through (19.05, 0, -1231.9) normal (1, 0, 0) x (0, 0, -1)
ref_plane "b2_YZ" through (19.05, 0, -1231.9) normal (0, 0, -1) x (0, 1, 0)
ref_plane "b2_ZX" through (19.05, 0, -1231.9) normal (0, 1, 0) x (1, 0, 0)
ref_plane "profile1515_XY" through (0, 0, -1231.9) normal (0, 0, 1) x (1, 0, 0)
ref_plane "profile1515_YZ" through (0, 0, -1231.9) normal (1, 0, 0) x (0, 1, 0)
ref_plane "profile1515_ZX" through (0, 0, -1231.9) normal (0, 1, 0) x (0, 0, 1)
properties part number "1515-48" material "Aluminum 6061"
